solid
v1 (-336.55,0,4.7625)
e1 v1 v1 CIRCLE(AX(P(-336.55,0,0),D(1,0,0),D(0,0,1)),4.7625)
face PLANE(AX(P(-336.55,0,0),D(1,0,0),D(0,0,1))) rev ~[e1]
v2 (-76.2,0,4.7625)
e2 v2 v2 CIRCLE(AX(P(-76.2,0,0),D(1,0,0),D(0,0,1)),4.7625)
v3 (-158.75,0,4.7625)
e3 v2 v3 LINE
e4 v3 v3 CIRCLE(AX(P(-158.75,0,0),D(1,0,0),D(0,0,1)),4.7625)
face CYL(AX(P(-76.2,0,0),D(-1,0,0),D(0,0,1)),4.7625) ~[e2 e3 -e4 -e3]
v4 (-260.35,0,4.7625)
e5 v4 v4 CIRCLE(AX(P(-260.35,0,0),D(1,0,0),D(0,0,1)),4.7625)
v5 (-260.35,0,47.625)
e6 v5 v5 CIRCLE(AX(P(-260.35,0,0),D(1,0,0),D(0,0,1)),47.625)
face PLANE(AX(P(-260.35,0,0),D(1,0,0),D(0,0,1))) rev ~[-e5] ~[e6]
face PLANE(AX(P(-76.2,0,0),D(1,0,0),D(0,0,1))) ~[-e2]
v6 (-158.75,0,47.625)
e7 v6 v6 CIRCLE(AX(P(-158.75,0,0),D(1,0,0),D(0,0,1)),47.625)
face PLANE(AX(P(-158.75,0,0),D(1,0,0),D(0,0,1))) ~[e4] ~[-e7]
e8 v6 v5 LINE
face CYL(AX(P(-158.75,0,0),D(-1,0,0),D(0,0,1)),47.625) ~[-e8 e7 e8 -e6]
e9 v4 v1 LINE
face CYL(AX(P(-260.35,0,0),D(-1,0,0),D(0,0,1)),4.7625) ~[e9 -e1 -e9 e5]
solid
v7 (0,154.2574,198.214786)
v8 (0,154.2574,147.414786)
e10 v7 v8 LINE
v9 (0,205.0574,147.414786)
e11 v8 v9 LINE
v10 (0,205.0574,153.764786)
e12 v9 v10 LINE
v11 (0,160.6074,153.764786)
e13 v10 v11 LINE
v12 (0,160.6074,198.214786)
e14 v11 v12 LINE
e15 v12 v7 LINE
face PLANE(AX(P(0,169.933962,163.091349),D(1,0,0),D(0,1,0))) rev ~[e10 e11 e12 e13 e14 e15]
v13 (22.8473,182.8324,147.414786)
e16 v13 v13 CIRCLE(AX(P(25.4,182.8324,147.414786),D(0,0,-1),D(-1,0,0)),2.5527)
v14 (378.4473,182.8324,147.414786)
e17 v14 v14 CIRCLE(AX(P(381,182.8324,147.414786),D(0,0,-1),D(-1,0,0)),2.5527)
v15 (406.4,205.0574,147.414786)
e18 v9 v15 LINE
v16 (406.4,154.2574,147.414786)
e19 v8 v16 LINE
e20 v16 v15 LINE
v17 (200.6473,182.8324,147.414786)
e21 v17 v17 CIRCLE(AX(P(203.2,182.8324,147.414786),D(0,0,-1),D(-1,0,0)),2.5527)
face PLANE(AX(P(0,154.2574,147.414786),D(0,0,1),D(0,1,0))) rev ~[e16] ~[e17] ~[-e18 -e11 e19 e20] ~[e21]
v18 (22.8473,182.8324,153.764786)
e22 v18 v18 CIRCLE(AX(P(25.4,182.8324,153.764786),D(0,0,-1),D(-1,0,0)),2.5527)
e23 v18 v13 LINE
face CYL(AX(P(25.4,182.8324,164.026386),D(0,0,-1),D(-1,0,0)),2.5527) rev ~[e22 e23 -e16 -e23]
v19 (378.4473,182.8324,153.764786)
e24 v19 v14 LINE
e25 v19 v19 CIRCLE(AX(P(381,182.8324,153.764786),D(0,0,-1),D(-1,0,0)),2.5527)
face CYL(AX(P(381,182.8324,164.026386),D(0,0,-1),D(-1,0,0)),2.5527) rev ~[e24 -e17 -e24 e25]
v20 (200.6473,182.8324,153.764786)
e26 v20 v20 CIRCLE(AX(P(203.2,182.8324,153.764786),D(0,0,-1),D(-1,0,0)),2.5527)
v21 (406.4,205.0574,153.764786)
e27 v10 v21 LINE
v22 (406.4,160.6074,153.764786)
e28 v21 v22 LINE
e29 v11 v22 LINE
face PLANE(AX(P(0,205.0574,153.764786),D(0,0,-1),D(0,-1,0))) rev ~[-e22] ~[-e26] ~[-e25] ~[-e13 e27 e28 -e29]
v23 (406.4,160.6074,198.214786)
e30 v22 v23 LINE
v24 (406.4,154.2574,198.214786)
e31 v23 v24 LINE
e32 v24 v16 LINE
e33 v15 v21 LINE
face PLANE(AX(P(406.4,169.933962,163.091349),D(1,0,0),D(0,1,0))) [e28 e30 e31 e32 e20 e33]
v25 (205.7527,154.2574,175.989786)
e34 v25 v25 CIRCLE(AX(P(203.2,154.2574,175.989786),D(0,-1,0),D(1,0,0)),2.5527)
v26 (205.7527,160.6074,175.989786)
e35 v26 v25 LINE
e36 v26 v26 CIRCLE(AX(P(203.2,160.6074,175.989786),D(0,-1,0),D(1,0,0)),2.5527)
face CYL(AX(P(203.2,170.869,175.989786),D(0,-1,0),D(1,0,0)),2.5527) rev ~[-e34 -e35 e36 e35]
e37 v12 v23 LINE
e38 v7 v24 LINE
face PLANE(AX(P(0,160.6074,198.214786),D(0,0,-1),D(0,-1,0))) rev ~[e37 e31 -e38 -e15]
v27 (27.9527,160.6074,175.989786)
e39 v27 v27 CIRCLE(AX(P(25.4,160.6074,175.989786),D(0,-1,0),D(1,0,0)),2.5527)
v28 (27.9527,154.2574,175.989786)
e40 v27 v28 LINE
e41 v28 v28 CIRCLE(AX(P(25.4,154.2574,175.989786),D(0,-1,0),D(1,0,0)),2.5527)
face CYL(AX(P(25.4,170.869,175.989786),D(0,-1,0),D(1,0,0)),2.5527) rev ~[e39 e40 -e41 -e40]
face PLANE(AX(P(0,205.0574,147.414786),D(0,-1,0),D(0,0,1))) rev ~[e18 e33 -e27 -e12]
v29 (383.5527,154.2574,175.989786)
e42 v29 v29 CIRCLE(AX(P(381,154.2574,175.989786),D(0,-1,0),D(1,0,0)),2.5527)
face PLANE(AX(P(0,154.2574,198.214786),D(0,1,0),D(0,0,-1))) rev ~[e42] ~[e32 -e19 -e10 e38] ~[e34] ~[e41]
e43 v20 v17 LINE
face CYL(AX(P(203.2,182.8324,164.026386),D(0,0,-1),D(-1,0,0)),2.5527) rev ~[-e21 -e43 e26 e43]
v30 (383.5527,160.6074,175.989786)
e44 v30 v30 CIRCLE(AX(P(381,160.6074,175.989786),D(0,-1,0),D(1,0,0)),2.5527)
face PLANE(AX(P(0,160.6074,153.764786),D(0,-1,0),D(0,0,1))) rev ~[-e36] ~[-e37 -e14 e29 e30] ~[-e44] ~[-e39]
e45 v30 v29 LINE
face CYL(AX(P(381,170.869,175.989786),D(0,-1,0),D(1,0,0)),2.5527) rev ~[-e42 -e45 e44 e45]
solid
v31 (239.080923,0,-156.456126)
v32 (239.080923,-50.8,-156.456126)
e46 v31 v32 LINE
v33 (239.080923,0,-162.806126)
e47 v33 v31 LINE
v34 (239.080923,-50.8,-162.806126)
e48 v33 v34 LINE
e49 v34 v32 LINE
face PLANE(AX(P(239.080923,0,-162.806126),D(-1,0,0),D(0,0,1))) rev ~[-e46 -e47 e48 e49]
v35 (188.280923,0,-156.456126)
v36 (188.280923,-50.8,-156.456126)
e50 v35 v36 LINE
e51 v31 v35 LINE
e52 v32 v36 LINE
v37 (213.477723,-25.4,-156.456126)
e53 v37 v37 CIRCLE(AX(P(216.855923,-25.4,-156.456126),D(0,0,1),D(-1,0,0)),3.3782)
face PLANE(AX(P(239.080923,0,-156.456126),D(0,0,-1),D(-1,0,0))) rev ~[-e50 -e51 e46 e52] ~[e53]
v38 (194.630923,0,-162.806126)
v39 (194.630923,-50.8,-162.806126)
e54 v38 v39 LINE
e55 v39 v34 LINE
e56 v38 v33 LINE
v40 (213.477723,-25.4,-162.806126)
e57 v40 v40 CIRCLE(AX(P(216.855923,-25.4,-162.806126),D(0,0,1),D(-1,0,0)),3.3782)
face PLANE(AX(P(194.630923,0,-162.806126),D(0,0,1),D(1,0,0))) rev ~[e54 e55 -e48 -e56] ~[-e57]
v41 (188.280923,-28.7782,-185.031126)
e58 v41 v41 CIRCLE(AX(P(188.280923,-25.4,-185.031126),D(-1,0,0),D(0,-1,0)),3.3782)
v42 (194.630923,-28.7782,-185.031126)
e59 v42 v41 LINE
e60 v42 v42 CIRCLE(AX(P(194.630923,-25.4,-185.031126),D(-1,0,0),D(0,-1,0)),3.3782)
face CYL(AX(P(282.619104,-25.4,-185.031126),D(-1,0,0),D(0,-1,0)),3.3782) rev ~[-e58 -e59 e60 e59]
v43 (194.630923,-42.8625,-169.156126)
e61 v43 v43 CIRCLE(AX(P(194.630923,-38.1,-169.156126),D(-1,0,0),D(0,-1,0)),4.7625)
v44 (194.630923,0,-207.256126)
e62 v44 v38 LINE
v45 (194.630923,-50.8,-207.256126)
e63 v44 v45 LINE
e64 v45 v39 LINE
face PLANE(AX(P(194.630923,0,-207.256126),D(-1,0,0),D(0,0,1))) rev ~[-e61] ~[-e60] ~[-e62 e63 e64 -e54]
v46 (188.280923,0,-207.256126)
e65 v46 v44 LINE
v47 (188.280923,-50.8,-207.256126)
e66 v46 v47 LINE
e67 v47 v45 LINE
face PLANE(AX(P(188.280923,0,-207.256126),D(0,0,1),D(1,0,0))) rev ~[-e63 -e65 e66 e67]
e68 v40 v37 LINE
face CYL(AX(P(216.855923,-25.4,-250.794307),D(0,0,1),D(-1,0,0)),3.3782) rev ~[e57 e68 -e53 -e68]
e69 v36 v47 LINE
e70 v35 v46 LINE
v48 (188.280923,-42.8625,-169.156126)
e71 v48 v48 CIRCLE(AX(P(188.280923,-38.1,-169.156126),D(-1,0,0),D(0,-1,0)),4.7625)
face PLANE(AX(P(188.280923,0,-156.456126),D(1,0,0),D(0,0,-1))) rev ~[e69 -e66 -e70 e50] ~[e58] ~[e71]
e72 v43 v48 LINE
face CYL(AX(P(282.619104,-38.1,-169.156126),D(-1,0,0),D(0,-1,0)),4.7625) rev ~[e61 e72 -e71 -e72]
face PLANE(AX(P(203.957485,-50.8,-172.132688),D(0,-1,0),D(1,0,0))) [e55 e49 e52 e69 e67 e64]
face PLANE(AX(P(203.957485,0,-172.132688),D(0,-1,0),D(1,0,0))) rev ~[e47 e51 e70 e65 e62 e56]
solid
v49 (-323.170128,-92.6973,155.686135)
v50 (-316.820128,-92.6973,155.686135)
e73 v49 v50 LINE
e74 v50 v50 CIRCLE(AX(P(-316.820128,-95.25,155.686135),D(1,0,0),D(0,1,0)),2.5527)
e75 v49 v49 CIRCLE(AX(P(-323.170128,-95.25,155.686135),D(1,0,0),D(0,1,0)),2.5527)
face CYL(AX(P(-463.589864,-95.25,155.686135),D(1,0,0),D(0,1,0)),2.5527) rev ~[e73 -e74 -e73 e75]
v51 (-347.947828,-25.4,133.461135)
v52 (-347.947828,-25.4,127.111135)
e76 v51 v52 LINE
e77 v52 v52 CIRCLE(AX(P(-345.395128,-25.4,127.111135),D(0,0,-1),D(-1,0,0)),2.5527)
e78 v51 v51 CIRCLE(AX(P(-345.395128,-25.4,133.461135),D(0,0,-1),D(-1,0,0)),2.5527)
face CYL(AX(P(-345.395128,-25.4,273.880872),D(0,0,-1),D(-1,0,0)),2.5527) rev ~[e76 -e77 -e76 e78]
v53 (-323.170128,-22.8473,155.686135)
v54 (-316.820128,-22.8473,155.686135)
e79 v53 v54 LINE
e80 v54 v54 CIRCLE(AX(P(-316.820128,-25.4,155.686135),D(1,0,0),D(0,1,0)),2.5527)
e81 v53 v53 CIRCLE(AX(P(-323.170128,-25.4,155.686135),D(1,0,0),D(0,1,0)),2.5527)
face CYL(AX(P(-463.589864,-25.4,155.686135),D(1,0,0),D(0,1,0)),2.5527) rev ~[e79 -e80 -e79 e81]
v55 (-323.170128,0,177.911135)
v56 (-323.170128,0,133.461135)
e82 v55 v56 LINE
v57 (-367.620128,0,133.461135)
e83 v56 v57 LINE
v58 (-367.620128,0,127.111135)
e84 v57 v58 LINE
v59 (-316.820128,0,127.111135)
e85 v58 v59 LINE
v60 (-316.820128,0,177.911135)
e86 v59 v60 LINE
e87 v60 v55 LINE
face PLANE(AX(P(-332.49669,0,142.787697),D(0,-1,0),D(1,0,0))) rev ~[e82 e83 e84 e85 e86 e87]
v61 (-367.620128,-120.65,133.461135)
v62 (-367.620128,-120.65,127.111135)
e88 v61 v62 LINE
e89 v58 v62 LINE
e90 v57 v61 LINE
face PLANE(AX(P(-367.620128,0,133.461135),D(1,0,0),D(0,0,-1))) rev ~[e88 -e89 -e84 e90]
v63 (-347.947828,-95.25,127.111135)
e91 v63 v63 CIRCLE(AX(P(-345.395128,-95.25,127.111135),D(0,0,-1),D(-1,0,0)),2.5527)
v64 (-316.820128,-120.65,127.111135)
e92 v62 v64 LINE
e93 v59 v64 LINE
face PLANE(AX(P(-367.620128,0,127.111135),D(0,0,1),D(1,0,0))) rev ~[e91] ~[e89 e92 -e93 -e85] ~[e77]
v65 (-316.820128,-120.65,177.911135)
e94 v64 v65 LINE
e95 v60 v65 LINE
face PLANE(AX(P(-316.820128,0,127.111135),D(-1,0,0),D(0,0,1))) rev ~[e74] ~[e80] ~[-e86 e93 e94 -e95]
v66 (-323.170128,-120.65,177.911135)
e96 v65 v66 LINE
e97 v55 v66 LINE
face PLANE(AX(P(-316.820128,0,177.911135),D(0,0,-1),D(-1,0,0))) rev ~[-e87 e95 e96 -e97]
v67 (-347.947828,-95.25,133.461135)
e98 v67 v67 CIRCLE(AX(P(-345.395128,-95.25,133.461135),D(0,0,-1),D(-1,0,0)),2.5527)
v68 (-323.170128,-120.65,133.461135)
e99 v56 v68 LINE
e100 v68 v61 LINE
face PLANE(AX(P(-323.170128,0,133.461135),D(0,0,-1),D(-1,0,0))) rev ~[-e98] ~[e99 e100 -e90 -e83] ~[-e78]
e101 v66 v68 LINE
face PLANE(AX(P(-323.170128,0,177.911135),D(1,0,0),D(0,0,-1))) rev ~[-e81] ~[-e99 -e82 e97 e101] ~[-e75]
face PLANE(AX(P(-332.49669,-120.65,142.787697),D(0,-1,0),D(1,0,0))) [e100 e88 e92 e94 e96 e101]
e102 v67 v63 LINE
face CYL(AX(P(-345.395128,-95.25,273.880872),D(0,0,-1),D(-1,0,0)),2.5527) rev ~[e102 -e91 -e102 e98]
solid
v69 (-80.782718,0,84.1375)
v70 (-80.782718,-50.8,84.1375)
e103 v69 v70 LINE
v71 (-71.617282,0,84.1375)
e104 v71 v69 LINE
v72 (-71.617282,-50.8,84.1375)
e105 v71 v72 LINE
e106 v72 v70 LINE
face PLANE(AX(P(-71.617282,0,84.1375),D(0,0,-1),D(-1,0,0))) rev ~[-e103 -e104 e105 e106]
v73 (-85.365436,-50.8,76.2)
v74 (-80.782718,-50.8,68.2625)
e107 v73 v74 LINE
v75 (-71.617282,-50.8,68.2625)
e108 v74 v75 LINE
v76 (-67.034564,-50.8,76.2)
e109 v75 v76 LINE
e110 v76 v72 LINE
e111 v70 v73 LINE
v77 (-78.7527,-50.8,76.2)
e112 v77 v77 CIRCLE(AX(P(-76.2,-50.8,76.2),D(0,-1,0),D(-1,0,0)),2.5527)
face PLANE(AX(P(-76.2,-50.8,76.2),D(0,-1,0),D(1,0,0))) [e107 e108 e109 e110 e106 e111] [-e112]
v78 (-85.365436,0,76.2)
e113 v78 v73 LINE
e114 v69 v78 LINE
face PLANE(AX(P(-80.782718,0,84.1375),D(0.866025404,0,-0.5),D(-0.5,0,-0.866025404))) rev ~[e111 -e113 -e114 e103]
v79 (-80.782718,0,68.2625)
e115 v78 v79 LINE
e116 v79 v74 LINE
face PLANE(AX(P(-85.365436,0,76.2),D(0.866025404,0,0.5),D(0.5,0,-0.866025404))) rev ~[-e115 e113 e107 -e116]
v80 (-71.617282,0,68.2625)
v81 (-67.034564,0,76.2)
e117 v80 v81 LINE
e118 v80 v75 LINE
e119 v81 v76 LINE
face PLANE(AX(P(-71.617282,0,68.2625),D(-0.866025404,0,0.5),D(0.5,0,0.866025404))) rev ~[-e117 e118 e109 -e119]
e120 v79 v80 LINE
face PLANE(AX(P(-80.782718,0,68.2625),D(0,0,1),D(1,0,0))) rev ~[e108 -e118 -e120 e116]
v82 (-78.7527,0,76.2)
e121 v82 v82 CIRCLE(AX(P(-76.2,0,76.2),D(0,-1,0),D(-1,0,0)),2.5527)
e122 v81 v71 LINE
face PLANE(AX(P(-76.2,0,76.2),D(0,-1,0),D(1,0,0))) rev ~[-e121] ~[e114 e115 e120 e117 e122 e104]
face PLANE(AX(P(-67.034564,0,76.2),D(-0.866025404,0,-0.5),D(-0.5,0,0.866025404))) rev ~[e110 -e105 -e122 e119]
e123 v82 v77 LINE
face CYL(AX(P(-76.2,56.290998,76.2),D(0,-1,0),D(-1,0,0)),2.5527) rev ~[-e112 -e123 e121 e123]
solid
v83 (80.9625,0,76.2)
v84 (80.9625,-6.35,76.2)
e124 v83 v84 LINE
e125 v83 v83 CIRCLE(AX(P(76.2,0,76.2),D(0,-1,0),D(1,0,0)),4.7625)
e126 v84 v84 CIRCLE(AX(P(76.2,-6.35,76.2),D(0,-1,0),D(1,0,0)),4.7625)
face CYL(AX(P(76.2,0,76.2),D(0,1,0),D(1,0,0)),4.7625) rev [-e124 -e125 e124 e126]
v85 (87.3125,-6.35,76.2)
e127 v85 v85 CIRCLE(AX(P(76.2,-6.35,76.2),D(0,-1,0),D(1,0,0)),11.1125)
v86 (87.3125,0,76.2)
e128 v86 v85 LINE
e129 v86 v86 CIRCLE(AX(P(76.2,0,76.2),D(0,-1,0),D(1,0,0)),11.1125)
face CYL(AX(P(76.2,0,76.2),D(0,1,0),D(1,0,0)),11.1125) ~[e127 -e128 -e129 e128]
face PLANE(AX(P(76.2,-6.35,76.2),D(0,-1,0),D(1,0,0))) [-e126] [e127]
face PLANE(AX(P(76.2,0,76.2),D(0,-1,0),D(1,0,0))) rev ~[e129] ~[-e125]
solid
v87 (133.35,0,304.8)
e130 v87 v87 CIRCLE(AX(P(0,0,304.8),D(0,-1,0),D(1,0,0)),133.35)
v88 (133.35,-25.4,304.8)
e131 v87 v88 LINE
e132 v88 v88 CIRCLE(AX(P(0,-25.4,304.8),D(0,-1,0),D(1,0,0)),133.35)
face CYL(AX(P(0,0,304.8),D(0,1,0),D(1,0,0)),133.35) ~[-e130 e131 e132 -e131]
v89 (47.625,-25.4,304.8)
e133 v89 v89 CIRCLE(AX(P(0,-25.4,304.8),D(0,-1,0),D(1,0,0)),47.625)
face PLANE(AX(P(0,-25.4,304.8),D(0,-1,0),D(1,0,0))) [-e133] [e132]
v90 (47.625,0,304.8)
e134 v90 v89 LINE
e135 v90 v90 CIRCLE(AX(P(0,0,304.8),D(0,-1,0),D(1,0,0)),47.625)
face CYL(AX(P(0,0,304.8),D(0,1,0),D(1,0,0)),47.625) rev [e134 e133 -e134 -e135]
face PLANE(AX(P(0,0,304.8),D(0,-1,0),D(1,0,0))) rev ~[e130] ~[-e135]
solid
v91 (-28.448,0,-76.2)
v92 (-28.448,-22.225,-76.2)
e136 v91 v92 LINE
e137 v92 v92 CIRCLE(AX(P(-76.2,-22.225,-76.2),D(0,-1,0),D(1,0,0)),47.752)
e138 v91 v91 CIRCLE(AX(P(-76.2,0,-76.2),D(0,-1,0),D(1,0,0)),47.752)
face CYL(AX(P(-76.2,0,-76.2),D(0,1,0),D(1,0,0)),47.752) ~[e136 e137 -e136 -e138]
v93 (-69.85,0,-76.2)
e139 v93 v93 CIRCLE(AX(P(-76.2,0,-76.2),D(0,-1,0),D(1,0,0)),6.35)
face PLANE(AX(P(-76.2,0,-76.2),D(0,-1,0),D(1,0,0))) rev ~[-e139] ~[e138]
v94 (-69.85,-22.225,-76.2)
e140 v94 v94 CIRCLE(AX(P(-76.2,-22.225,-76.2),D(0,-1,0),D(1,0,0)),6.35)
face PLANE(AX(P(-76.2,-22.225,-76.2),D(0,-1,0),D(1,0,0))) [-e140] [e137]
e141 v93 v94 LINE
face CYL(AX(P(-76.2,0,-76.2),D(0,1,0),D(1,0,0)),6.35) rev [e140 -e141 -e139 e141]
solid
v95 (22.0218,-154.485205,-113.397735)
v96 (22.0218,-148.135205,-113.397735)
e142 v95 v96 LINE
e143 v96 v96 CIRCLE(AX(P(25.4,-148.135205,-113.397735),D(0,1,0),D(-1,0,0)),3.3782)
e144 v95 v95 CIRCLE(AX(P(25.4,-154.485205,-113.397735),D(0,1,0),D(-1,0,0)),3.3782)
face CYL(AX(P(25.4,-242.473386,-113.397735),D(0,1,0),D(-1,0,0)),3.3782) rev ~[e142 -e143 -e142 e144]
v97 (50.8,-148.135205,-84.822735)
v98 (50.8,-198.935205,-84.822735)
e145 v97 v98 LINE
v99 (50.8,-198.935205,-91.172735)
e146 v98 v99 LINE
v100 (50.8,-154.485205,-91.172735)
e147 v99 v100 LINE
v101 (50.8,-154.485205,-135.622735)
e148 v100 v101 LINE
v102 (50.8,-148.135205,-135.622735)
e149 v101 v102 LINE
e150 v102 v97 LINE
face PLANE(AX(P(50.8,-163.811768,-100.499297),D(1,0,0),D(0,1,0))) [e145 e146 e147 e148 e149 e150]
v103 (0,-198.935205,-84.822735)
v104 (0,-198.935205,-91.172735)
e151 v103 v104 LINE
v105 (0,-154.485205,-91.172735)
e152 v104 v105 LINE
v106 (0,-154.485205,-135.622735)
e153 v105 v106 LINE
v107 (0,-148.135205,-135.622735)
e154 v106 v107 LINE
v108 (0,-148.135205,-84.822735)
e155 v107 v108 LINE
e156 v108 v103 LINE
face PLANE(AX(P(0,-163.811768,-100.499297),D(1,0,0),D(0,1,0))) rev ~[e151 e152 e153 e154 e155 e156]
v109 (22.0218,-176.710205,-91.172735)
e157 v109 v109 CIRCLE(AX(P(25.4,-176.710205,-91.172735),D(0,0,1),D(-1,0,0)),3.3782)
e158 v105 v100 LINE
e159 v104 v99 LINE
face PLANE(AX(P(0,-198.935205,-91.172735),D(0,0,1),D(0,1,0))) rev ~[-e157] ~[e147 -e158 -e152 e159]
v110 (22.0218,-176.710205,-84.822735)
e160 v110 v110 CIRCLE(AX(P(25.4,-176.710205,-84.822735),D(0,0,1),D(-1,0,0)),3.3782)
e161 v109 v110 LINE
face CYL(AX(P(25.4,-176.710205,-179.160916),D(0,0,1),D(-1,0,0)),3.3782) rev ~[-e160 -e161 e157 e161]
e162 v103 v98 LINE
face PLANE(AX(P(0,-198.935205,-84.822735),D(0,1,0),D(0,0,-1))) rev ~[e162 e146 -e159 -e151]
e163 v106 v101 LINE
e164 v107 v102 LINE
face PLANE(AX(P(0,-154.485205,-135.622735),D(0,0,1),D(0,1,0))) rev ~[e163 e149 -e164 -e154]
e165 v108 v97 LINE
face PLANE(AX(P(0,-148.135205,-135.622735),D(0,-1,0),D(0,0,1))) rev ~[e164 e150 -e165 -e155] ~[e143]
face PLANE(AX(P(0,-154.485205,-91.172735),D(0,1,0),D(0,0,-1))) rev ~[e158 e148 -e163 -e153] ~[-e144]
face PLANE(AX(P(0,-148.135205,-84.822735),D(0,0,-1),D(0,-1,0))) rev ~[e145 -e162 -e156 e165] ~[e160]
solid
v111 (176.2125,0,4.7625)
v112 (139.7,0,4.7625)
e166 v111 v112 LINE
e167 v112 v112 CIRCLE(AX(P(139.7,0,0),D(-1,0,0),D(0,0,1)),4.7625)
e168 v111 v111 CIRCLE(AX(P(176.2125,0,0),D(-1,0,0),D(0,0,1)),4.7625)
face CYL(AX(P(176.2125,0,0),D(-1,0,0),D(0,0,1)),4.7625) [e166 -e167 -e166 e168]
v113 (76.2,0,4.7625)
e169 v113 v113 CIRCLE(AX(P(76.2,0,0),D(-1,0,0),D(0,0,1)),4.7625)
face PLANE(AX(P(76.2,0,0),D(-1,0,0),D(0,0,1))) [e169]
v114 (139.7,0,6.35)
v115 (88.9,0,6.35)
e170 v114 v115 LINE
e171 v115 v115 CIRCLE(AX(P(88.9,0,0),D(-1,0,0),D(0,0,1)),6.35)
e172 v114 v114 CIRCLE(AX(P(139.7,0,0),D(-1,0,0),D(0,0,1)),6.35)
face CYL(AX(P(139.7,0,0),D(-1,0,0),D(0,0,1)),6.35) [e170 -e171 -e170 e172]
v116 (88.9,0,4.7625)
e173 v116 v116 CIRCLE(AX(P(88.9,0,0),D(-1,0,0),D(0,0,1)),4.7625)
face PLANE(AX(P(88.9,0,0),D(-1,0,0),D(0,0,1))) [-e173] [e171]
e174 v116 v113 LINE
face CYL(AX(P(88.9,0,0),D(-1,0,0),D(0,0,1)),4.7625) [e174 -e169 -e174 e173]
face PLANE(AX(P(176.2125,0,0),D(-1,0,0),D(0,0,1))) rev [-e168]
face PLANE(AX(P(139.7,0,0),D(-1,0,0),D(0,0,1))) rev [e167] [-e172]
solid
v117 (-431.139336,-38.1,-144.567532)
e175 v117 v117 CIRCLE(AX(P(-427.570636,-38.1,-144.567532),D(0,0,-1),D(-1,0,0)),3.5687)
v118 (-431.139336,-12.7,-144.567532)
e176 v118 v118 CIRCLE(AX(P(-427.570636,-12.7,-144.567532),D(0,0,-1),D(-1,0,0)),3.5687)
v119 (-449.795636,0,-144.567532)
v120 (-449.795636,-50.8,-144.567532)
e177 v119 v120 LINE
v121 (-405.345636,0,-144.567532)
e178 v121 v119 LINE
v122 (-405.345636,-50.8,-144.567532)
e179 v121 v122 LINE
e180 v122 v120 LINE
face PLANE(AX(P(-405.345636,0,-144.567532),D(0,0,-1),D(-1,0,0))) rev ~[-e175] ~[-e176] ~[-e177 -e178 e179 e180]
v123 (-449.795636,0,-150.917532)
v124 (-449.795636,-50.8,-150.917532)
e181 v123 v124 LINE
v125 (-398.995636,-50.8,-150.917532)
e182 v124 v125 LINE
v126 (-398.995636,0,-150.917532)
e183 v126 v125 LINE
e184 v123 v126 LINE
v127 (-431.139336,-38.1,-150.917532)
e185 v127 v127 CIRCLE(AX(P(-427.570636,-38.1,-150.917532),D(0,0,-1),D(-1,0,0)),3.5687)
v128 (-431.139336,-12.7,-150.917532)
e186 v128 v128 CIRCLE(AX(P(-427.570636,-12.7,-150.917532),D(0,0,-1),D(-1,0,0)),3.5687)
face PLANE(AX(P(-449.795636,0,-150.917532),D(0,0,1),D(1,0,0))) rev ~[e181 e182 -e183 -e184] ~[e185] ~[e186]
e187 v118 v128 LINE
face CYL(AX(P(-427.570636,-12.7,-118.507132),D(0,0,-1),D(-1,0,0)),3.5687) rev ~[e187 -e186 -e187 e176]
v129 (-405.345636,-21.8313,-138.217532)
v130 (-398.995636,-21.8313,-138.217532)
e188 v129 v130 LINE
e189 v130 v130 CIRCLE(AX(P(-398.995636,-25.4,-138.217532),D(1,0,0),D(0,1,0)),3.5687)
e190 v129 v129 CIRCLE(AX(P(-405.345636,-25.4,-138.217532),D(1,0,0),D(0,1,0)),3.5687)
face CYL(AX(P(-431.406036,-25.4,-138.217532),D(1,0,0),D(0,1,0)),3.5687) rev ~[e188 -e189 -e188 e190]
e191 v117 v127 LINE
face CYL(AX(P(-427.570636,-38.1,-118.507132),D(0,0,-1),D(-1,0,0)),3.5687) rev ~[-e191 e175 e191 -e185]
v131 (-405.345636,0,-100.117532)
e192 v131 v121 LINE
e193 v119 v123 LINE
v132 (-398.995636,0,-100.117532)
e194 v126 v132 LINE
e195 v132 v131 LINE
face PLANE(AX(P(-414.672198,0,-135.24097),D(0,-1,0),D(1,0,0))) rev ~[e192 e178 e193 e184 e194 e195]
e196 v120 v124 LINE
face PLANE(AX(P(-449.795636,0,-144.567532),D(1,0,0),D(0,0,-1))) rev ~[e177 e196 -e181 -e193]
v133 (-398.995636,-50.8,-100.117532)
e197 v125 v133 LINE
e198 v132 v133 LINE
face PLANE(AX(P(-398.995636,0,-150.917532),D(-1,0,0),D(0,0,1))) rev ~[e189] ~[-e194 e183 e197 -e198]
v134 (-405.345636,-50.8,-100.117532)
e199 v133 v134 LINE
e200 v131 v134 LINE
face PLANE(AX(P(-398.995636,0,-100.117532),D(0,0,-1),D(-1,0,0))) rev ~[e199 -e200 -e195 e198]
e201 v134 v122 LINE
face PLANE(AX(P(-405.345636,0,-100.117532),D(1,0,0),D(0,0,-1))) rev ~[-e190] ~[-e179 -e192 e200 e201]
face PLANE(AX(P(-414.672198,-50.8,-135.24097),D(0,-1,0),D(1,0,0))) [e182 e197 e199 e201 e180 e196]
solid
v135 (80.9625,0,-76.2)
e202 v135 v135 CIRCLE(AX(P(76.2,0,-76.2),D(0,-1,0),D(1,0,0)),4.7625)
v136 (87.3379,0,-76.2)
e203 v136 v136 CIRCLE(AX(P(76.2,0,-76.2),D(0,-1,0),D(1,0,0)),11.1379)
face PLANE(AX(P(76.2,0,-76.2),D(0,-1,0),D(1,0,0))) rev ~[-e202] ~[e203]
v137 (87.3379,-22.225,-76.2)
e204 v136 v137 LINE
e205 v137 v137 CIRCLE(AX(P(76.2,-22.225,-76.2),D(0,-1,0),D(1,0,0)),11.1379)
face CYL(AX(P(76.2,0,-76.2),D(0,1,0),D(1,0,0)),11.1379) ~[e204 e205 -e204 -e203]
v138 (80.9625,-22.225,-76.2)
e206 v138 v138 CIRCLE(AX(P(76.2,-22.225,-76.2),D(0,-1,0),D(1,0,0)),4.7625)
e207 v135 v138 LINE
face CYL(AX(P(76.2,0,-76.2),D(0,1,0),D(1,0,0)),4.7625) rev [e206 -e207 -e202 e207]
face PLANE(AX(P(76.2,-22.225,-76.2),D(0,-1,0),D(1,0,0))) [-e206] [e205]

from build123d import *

# Parameters (mm, degrees)
F1_DEPTH         = 50.8
F2_D             = 5.1054
F3_R             = 11.1125
F3_R_2           = 4.7625
F4_DEPTH         = 6.35
F7_R             = 47.752
F7_R_2           = 6.35
F8_DEPTH         = 22.225
F9_R             = 11.1379
F9_R_2           = 4.7625
F10_DEPTH        = 22.225
F13_R            = 133.35
F13_R_2          = 47.625
F14_DEPTH        = 25.4
F16_DEPTH        = 120.65
F19_D            = 5.1054
F19_ON_F17_D     = 5.1054
F21_DEPTH        = 406.4
F24_D            = 5.1054
F24_DEPTH        = 10.2616
F24_TIP          = 1.5338169022
F24_ON_F22_D     = 5.1054
F24_ON_F22_DEPTH = 10.2616
F24_ON_F22_TIP   = 1.5338169022
F26_DEPTH        = 50.8
F29_D            = 6.7564
F29_ON_F27_D     = 6.7564
F30_D            = 9.525
F32_DEPTH        = 50.8
F35_D            = 6.7564
F35_ON_F34_D     = 6.7564
F37_DEPTH        = 50.8
F40_D            = 7.1374
F40_DEPTH        = 26.0604
F40_TIP          = 2.1442912911
F40_ON_F38_D     = 7.1374
F40_ON_F38_DEPTH = 26.0604
F40_ON_F38_TIP   = 2.1442912911


with BuildPart() as f1:
    # F0 (on Front) → F1 (new body)
    with BuildSketch(Plane.XZ):
        Polygon((-71.6172822383, 68.2625), (-67.0345644766, 76.2), (-71.6172822383, 84.1375), (-80.7827177617, 84.1375), (-85.3654355234, 76.2), (-80.7827177617, 68.2625), align=None)
    extrude(amount=F1_DEPTH)

    # F2 (through all)
    with Locations(Plane(origin=(0, 0, 0), x_dir=(1, 0, 0), z_dir=(0, 1, 0))):
        with Locations((-76.2, -76.2)):
            Hole(F2_D / 2)


with BuildPart() as f4:
    # F3 (on Front) → F4 (new body)
    with BuildSketch(Plane.XZ):
        with Locations((76.2, 76.2)):
            Circle(F3_R)
        with Locations((76.2, 76.2)):
            Circle(F3_R_2, mode=Mode.SUBTRACT)
    extrude(amount=F4_DEPTH)


with BuildPart() as f6:
    # F5 (on Front) → F6 (revolve)
    with BuildSketch(Plane.XZ):
        Polygon((76.2, 4.7625), (76.2, 0), (176.2125, 0), (176.2125, 4.7625), (139.7, 4.7625), (139.7, 6.35), (88.9, 6.35), (88.9, 4.7625), align=None)
    revolve(axis=Axis((126.20625, 0, 0), (-1, 0, 0)))


with BuildPart() as f8:
    # F7 (on Front) → F8 (new body)
    with BuildSketch(Plane.XZ):
        with Locations((-76.2, -76.2)):
            Circle(F7_R)
        with Locations((-76.2, -76.2)):
            Circle(F7_R_2, mode=Mode.SUBTRACT)
    extrude(amount=F8_DEPTH)


with BuildPart() as f10:
    # F9 (on Front) → F10 (new body)
    with BuildSketch(Plane.XZ):
        with Locations((76.2, -76.2)):
            Circle(F9_R)
        with Locations((76.2, -76.2)):
            Circle(F9_R_2, mode=Mode.SUBTRACT)
    extrude(amount=F10_DEPTH)


with BuildPart() as f12:
    # F11 (on Front) → F12 (revolve)
    with BuildSketch(Plane.XZ):
        Polygon((-336.55, 0), (-76.2, 0), (-76.2, 4.7625), (-158.75, 4.7625), (-158.75, 47.625), (-260.35, 47.625), (-260.35, 4.7625), (-336.55, 4.7625), align=None)
    revolve(axis=Axis((-206.375, 0, 0), (1, 0, 0)))


with BuildPart() as f14:
    # F13 (on Front) → F14 (new body)
    with BuildSketch(Plane.XZ):
        with Locations((0, 304.8)):
            Circle(F13_R)
        with Locations((0, 304.8)):
            Circle(F13_R_2, mode=Mode.SUBTRACT)
    extrude(amount=F14_DEPTH)


with BuildPart() as f16:
    # F15 (on Front) → F16 (new body)
    with BuildSketch(Plane.XZ):
        Polygon((-367.6201275826, 133.4611347437), (-367.6201275826, 127.1111347437), (-316.8201275826, 127.1111347437), (-316.8201275826, 177.9111347437), (-323.1701275826, 177.9111347437), (-323.1701275826, 133.4611347437), align=None)
    extrude(amount=F16_DEPTH)

    # F19 (through all)
    with Locations(Plane(origin=(-323.1701275826, 0, 0), x_dir=(0, -1, 0), z_dir=(-1, 0, 0))):
        with Locations((95.25, 155.6861347437), (25.4, 155.6861347437)):
            Hole(F19_D / 2)

    # F19 on F17 (through all)
    with Locations(Plane.XY.offset(133.4611347437)):
        with Locations((-345.3951275826, -95.25), (-345.3951275826, -25.4)):
            Hole(F19_ON_F17_D / 2)


with BuildPart() as f21:
    # F20 (on Right) → F21 (new body)
    with BuildSketch(Plane.YZ):
        Polygon((154.2573996544, 147.4147864342), (205.0573996544, 147.4147864342), (205.0573996544, 153.7647864342), (160.6073996544, 153.7647864342), (160.6073996544, 198.2147864342), (154.2573996544, 198.2147864342), align=None)
    extrude(amount=F21_DEPTH)

    # F24
    with Locations(Plane(origin=(0, 160.6073996544, 0), x_dir=(-1, 0, 0), z_dir=(0, 1, 0))):
        with Locations((-25.4, 175.9897864342), (-203.2, 175.9897864342), (-381, 175.9897864342)):
            Hole(F24_D / 2, depth=F24_DEPTH)
            with Locations((0, 0, -(F24_DEPTH + F24_TIP / 2))):  # 118° drill point
                Cone(0, F24_D / 2, F24_TIP, mode=Mode.SUBTRACT)

    # F24 on F22
    with Locations(Plane.XY.offset(153.7647864342)):
        with Locations((381, 182.8323996544), (203.2, 182.8323996544), (25.4, 182.8323996544)):
            Hole(F24_ON_F22_D / 2, depth=F24_ON_F22_DEPTH)
            with Locations((0, 0, -(F24_ON_F22_DEPTH + F24_ON_F22_TIP / 2))):  # 118° drill point
                Cone(0, F24_ON_F22_D / 2, F24_ON_F22_TIP, mode=Mode.SUBTRACT)


with BuildPart() as f26:
    # F25 (on Front) → F26 (new body)
    with BuildSketch(Plane.XZ):
        Polygon((188.2809229851, -156.4561255932), (188.2809229851, -207.2561255932), (194.6309229851, -207.2561255932), (194.6309229851, -162.8061255932), (239.0809229851, -162.8061255932), (239.0809229851, -156.4561255932), align=None)
    extrude(amount=F26_DEPTH)

    # F29 (through all)
    with Locations(Plane(origin=(0, 0, -162.8061255932), x_dir=(1, 0, 0), z_dir=(0, 0, -1))):
        with Locations((216.8559229851, 25.4)):
            Hole(F29_D / 2)

    # F29 on F27 (through all)
    with Locations(Plane.YZ.offset(194.6309229851)):
        with Locations((-25.4, -185.0311255932)):
            Hole(F29_ON_F27_D / 2)

    # F30 (through all)
    with Locations(Plane.YZ.offset(194.6309229851)):
        with Locations((-38.1, -169.1561255932)):
            Hole(F30_D / 2)


with BuildPart() as f32:
    # F31 (on Right) → F32 (new body)
    with BuildSketch(Plane.YZ):
        Polygon((-154.4852054238, -135.6227345109), (-148.1352054238, -135.6227345109), (-148.1352054238, -84.8227345109), (-198.9352054238, -84.8227345109), (-198.9352054238, -91.1727345109), (-154.4852054238, -91.1727345109), align=None)
    extrude(amount=F32_DEPTH)

    # F35 (through all)
    with Locations(Plane.XZ.offset(154.4852054238)):
        with Locations((25.4, -113.3977345109)):
            Hole(F35_D / 2)

    # F35 on F34 (through all)
    with Locations(Plane(origin=(0, 0, -91.1727345109), x_dir=(1, 0, 0), z_dir=(0, 0, -1))):
        with Locations((25.4, 176.7102054238)):
            Hole(F35_ON_F34_D / 2)


with BuildPart() as f37:
    # F36 (on Front) → F37 (new body)
    with BuildSketch(Plane.XZ):
        Polygon((-449.7956357241, -144.5675322294), (-449.7956357241, -150.9175322294), (-398.9956357241, -150.9175322294), (-398.9956357241, -100.1175322294), (-405.3456357241, -100.1175322294), (-405.3456357241, -144.5675322294), align=None)
    extrude(amount=F37_DEPTH)

    # F40
    with Locations(Plane(origin=(-405.3456357241, 0, 0), x_dir=(0, -1, 0), z_dir=(-1, 0, 0))):
        with Locations((25.4, -138.2175322294)):
            Hole(F40_D / 2, depth=F40_DEPTH)
            with Locations((0, 0, -(F40_DEPTH + F40_TIP / 2))):  # 118° drill point
                Cone(0, F40_D / 2, F40_TIP, mode=Mode.SUBTRACT)

    # F40 on F38
    with Locations(Plane.XY.offset(-144.5675322294)):
        with Locations((-427.5706357241, -12.7), (-427.5706357241, -38.1)):
            Hole(F40_ON_F38_D / 2, depth=F40_ON_F38_DEPTH)
            with Locations((0, 0, -(F40_ON_F38_DEPTH + F40_ON_F38_TIP / 2))):  # 118° drill point
                Cone(0, F40_ON_F38_D / 2, F40_ON_F38_TIP, mode=Mode.SUBTRACT)


solid = Compound([f1.part, f4.part, f6.part, f8.part, f10.part, f12.part, f14.part, f16.part, f21.part, f26.part, f32.part, f37.part])
